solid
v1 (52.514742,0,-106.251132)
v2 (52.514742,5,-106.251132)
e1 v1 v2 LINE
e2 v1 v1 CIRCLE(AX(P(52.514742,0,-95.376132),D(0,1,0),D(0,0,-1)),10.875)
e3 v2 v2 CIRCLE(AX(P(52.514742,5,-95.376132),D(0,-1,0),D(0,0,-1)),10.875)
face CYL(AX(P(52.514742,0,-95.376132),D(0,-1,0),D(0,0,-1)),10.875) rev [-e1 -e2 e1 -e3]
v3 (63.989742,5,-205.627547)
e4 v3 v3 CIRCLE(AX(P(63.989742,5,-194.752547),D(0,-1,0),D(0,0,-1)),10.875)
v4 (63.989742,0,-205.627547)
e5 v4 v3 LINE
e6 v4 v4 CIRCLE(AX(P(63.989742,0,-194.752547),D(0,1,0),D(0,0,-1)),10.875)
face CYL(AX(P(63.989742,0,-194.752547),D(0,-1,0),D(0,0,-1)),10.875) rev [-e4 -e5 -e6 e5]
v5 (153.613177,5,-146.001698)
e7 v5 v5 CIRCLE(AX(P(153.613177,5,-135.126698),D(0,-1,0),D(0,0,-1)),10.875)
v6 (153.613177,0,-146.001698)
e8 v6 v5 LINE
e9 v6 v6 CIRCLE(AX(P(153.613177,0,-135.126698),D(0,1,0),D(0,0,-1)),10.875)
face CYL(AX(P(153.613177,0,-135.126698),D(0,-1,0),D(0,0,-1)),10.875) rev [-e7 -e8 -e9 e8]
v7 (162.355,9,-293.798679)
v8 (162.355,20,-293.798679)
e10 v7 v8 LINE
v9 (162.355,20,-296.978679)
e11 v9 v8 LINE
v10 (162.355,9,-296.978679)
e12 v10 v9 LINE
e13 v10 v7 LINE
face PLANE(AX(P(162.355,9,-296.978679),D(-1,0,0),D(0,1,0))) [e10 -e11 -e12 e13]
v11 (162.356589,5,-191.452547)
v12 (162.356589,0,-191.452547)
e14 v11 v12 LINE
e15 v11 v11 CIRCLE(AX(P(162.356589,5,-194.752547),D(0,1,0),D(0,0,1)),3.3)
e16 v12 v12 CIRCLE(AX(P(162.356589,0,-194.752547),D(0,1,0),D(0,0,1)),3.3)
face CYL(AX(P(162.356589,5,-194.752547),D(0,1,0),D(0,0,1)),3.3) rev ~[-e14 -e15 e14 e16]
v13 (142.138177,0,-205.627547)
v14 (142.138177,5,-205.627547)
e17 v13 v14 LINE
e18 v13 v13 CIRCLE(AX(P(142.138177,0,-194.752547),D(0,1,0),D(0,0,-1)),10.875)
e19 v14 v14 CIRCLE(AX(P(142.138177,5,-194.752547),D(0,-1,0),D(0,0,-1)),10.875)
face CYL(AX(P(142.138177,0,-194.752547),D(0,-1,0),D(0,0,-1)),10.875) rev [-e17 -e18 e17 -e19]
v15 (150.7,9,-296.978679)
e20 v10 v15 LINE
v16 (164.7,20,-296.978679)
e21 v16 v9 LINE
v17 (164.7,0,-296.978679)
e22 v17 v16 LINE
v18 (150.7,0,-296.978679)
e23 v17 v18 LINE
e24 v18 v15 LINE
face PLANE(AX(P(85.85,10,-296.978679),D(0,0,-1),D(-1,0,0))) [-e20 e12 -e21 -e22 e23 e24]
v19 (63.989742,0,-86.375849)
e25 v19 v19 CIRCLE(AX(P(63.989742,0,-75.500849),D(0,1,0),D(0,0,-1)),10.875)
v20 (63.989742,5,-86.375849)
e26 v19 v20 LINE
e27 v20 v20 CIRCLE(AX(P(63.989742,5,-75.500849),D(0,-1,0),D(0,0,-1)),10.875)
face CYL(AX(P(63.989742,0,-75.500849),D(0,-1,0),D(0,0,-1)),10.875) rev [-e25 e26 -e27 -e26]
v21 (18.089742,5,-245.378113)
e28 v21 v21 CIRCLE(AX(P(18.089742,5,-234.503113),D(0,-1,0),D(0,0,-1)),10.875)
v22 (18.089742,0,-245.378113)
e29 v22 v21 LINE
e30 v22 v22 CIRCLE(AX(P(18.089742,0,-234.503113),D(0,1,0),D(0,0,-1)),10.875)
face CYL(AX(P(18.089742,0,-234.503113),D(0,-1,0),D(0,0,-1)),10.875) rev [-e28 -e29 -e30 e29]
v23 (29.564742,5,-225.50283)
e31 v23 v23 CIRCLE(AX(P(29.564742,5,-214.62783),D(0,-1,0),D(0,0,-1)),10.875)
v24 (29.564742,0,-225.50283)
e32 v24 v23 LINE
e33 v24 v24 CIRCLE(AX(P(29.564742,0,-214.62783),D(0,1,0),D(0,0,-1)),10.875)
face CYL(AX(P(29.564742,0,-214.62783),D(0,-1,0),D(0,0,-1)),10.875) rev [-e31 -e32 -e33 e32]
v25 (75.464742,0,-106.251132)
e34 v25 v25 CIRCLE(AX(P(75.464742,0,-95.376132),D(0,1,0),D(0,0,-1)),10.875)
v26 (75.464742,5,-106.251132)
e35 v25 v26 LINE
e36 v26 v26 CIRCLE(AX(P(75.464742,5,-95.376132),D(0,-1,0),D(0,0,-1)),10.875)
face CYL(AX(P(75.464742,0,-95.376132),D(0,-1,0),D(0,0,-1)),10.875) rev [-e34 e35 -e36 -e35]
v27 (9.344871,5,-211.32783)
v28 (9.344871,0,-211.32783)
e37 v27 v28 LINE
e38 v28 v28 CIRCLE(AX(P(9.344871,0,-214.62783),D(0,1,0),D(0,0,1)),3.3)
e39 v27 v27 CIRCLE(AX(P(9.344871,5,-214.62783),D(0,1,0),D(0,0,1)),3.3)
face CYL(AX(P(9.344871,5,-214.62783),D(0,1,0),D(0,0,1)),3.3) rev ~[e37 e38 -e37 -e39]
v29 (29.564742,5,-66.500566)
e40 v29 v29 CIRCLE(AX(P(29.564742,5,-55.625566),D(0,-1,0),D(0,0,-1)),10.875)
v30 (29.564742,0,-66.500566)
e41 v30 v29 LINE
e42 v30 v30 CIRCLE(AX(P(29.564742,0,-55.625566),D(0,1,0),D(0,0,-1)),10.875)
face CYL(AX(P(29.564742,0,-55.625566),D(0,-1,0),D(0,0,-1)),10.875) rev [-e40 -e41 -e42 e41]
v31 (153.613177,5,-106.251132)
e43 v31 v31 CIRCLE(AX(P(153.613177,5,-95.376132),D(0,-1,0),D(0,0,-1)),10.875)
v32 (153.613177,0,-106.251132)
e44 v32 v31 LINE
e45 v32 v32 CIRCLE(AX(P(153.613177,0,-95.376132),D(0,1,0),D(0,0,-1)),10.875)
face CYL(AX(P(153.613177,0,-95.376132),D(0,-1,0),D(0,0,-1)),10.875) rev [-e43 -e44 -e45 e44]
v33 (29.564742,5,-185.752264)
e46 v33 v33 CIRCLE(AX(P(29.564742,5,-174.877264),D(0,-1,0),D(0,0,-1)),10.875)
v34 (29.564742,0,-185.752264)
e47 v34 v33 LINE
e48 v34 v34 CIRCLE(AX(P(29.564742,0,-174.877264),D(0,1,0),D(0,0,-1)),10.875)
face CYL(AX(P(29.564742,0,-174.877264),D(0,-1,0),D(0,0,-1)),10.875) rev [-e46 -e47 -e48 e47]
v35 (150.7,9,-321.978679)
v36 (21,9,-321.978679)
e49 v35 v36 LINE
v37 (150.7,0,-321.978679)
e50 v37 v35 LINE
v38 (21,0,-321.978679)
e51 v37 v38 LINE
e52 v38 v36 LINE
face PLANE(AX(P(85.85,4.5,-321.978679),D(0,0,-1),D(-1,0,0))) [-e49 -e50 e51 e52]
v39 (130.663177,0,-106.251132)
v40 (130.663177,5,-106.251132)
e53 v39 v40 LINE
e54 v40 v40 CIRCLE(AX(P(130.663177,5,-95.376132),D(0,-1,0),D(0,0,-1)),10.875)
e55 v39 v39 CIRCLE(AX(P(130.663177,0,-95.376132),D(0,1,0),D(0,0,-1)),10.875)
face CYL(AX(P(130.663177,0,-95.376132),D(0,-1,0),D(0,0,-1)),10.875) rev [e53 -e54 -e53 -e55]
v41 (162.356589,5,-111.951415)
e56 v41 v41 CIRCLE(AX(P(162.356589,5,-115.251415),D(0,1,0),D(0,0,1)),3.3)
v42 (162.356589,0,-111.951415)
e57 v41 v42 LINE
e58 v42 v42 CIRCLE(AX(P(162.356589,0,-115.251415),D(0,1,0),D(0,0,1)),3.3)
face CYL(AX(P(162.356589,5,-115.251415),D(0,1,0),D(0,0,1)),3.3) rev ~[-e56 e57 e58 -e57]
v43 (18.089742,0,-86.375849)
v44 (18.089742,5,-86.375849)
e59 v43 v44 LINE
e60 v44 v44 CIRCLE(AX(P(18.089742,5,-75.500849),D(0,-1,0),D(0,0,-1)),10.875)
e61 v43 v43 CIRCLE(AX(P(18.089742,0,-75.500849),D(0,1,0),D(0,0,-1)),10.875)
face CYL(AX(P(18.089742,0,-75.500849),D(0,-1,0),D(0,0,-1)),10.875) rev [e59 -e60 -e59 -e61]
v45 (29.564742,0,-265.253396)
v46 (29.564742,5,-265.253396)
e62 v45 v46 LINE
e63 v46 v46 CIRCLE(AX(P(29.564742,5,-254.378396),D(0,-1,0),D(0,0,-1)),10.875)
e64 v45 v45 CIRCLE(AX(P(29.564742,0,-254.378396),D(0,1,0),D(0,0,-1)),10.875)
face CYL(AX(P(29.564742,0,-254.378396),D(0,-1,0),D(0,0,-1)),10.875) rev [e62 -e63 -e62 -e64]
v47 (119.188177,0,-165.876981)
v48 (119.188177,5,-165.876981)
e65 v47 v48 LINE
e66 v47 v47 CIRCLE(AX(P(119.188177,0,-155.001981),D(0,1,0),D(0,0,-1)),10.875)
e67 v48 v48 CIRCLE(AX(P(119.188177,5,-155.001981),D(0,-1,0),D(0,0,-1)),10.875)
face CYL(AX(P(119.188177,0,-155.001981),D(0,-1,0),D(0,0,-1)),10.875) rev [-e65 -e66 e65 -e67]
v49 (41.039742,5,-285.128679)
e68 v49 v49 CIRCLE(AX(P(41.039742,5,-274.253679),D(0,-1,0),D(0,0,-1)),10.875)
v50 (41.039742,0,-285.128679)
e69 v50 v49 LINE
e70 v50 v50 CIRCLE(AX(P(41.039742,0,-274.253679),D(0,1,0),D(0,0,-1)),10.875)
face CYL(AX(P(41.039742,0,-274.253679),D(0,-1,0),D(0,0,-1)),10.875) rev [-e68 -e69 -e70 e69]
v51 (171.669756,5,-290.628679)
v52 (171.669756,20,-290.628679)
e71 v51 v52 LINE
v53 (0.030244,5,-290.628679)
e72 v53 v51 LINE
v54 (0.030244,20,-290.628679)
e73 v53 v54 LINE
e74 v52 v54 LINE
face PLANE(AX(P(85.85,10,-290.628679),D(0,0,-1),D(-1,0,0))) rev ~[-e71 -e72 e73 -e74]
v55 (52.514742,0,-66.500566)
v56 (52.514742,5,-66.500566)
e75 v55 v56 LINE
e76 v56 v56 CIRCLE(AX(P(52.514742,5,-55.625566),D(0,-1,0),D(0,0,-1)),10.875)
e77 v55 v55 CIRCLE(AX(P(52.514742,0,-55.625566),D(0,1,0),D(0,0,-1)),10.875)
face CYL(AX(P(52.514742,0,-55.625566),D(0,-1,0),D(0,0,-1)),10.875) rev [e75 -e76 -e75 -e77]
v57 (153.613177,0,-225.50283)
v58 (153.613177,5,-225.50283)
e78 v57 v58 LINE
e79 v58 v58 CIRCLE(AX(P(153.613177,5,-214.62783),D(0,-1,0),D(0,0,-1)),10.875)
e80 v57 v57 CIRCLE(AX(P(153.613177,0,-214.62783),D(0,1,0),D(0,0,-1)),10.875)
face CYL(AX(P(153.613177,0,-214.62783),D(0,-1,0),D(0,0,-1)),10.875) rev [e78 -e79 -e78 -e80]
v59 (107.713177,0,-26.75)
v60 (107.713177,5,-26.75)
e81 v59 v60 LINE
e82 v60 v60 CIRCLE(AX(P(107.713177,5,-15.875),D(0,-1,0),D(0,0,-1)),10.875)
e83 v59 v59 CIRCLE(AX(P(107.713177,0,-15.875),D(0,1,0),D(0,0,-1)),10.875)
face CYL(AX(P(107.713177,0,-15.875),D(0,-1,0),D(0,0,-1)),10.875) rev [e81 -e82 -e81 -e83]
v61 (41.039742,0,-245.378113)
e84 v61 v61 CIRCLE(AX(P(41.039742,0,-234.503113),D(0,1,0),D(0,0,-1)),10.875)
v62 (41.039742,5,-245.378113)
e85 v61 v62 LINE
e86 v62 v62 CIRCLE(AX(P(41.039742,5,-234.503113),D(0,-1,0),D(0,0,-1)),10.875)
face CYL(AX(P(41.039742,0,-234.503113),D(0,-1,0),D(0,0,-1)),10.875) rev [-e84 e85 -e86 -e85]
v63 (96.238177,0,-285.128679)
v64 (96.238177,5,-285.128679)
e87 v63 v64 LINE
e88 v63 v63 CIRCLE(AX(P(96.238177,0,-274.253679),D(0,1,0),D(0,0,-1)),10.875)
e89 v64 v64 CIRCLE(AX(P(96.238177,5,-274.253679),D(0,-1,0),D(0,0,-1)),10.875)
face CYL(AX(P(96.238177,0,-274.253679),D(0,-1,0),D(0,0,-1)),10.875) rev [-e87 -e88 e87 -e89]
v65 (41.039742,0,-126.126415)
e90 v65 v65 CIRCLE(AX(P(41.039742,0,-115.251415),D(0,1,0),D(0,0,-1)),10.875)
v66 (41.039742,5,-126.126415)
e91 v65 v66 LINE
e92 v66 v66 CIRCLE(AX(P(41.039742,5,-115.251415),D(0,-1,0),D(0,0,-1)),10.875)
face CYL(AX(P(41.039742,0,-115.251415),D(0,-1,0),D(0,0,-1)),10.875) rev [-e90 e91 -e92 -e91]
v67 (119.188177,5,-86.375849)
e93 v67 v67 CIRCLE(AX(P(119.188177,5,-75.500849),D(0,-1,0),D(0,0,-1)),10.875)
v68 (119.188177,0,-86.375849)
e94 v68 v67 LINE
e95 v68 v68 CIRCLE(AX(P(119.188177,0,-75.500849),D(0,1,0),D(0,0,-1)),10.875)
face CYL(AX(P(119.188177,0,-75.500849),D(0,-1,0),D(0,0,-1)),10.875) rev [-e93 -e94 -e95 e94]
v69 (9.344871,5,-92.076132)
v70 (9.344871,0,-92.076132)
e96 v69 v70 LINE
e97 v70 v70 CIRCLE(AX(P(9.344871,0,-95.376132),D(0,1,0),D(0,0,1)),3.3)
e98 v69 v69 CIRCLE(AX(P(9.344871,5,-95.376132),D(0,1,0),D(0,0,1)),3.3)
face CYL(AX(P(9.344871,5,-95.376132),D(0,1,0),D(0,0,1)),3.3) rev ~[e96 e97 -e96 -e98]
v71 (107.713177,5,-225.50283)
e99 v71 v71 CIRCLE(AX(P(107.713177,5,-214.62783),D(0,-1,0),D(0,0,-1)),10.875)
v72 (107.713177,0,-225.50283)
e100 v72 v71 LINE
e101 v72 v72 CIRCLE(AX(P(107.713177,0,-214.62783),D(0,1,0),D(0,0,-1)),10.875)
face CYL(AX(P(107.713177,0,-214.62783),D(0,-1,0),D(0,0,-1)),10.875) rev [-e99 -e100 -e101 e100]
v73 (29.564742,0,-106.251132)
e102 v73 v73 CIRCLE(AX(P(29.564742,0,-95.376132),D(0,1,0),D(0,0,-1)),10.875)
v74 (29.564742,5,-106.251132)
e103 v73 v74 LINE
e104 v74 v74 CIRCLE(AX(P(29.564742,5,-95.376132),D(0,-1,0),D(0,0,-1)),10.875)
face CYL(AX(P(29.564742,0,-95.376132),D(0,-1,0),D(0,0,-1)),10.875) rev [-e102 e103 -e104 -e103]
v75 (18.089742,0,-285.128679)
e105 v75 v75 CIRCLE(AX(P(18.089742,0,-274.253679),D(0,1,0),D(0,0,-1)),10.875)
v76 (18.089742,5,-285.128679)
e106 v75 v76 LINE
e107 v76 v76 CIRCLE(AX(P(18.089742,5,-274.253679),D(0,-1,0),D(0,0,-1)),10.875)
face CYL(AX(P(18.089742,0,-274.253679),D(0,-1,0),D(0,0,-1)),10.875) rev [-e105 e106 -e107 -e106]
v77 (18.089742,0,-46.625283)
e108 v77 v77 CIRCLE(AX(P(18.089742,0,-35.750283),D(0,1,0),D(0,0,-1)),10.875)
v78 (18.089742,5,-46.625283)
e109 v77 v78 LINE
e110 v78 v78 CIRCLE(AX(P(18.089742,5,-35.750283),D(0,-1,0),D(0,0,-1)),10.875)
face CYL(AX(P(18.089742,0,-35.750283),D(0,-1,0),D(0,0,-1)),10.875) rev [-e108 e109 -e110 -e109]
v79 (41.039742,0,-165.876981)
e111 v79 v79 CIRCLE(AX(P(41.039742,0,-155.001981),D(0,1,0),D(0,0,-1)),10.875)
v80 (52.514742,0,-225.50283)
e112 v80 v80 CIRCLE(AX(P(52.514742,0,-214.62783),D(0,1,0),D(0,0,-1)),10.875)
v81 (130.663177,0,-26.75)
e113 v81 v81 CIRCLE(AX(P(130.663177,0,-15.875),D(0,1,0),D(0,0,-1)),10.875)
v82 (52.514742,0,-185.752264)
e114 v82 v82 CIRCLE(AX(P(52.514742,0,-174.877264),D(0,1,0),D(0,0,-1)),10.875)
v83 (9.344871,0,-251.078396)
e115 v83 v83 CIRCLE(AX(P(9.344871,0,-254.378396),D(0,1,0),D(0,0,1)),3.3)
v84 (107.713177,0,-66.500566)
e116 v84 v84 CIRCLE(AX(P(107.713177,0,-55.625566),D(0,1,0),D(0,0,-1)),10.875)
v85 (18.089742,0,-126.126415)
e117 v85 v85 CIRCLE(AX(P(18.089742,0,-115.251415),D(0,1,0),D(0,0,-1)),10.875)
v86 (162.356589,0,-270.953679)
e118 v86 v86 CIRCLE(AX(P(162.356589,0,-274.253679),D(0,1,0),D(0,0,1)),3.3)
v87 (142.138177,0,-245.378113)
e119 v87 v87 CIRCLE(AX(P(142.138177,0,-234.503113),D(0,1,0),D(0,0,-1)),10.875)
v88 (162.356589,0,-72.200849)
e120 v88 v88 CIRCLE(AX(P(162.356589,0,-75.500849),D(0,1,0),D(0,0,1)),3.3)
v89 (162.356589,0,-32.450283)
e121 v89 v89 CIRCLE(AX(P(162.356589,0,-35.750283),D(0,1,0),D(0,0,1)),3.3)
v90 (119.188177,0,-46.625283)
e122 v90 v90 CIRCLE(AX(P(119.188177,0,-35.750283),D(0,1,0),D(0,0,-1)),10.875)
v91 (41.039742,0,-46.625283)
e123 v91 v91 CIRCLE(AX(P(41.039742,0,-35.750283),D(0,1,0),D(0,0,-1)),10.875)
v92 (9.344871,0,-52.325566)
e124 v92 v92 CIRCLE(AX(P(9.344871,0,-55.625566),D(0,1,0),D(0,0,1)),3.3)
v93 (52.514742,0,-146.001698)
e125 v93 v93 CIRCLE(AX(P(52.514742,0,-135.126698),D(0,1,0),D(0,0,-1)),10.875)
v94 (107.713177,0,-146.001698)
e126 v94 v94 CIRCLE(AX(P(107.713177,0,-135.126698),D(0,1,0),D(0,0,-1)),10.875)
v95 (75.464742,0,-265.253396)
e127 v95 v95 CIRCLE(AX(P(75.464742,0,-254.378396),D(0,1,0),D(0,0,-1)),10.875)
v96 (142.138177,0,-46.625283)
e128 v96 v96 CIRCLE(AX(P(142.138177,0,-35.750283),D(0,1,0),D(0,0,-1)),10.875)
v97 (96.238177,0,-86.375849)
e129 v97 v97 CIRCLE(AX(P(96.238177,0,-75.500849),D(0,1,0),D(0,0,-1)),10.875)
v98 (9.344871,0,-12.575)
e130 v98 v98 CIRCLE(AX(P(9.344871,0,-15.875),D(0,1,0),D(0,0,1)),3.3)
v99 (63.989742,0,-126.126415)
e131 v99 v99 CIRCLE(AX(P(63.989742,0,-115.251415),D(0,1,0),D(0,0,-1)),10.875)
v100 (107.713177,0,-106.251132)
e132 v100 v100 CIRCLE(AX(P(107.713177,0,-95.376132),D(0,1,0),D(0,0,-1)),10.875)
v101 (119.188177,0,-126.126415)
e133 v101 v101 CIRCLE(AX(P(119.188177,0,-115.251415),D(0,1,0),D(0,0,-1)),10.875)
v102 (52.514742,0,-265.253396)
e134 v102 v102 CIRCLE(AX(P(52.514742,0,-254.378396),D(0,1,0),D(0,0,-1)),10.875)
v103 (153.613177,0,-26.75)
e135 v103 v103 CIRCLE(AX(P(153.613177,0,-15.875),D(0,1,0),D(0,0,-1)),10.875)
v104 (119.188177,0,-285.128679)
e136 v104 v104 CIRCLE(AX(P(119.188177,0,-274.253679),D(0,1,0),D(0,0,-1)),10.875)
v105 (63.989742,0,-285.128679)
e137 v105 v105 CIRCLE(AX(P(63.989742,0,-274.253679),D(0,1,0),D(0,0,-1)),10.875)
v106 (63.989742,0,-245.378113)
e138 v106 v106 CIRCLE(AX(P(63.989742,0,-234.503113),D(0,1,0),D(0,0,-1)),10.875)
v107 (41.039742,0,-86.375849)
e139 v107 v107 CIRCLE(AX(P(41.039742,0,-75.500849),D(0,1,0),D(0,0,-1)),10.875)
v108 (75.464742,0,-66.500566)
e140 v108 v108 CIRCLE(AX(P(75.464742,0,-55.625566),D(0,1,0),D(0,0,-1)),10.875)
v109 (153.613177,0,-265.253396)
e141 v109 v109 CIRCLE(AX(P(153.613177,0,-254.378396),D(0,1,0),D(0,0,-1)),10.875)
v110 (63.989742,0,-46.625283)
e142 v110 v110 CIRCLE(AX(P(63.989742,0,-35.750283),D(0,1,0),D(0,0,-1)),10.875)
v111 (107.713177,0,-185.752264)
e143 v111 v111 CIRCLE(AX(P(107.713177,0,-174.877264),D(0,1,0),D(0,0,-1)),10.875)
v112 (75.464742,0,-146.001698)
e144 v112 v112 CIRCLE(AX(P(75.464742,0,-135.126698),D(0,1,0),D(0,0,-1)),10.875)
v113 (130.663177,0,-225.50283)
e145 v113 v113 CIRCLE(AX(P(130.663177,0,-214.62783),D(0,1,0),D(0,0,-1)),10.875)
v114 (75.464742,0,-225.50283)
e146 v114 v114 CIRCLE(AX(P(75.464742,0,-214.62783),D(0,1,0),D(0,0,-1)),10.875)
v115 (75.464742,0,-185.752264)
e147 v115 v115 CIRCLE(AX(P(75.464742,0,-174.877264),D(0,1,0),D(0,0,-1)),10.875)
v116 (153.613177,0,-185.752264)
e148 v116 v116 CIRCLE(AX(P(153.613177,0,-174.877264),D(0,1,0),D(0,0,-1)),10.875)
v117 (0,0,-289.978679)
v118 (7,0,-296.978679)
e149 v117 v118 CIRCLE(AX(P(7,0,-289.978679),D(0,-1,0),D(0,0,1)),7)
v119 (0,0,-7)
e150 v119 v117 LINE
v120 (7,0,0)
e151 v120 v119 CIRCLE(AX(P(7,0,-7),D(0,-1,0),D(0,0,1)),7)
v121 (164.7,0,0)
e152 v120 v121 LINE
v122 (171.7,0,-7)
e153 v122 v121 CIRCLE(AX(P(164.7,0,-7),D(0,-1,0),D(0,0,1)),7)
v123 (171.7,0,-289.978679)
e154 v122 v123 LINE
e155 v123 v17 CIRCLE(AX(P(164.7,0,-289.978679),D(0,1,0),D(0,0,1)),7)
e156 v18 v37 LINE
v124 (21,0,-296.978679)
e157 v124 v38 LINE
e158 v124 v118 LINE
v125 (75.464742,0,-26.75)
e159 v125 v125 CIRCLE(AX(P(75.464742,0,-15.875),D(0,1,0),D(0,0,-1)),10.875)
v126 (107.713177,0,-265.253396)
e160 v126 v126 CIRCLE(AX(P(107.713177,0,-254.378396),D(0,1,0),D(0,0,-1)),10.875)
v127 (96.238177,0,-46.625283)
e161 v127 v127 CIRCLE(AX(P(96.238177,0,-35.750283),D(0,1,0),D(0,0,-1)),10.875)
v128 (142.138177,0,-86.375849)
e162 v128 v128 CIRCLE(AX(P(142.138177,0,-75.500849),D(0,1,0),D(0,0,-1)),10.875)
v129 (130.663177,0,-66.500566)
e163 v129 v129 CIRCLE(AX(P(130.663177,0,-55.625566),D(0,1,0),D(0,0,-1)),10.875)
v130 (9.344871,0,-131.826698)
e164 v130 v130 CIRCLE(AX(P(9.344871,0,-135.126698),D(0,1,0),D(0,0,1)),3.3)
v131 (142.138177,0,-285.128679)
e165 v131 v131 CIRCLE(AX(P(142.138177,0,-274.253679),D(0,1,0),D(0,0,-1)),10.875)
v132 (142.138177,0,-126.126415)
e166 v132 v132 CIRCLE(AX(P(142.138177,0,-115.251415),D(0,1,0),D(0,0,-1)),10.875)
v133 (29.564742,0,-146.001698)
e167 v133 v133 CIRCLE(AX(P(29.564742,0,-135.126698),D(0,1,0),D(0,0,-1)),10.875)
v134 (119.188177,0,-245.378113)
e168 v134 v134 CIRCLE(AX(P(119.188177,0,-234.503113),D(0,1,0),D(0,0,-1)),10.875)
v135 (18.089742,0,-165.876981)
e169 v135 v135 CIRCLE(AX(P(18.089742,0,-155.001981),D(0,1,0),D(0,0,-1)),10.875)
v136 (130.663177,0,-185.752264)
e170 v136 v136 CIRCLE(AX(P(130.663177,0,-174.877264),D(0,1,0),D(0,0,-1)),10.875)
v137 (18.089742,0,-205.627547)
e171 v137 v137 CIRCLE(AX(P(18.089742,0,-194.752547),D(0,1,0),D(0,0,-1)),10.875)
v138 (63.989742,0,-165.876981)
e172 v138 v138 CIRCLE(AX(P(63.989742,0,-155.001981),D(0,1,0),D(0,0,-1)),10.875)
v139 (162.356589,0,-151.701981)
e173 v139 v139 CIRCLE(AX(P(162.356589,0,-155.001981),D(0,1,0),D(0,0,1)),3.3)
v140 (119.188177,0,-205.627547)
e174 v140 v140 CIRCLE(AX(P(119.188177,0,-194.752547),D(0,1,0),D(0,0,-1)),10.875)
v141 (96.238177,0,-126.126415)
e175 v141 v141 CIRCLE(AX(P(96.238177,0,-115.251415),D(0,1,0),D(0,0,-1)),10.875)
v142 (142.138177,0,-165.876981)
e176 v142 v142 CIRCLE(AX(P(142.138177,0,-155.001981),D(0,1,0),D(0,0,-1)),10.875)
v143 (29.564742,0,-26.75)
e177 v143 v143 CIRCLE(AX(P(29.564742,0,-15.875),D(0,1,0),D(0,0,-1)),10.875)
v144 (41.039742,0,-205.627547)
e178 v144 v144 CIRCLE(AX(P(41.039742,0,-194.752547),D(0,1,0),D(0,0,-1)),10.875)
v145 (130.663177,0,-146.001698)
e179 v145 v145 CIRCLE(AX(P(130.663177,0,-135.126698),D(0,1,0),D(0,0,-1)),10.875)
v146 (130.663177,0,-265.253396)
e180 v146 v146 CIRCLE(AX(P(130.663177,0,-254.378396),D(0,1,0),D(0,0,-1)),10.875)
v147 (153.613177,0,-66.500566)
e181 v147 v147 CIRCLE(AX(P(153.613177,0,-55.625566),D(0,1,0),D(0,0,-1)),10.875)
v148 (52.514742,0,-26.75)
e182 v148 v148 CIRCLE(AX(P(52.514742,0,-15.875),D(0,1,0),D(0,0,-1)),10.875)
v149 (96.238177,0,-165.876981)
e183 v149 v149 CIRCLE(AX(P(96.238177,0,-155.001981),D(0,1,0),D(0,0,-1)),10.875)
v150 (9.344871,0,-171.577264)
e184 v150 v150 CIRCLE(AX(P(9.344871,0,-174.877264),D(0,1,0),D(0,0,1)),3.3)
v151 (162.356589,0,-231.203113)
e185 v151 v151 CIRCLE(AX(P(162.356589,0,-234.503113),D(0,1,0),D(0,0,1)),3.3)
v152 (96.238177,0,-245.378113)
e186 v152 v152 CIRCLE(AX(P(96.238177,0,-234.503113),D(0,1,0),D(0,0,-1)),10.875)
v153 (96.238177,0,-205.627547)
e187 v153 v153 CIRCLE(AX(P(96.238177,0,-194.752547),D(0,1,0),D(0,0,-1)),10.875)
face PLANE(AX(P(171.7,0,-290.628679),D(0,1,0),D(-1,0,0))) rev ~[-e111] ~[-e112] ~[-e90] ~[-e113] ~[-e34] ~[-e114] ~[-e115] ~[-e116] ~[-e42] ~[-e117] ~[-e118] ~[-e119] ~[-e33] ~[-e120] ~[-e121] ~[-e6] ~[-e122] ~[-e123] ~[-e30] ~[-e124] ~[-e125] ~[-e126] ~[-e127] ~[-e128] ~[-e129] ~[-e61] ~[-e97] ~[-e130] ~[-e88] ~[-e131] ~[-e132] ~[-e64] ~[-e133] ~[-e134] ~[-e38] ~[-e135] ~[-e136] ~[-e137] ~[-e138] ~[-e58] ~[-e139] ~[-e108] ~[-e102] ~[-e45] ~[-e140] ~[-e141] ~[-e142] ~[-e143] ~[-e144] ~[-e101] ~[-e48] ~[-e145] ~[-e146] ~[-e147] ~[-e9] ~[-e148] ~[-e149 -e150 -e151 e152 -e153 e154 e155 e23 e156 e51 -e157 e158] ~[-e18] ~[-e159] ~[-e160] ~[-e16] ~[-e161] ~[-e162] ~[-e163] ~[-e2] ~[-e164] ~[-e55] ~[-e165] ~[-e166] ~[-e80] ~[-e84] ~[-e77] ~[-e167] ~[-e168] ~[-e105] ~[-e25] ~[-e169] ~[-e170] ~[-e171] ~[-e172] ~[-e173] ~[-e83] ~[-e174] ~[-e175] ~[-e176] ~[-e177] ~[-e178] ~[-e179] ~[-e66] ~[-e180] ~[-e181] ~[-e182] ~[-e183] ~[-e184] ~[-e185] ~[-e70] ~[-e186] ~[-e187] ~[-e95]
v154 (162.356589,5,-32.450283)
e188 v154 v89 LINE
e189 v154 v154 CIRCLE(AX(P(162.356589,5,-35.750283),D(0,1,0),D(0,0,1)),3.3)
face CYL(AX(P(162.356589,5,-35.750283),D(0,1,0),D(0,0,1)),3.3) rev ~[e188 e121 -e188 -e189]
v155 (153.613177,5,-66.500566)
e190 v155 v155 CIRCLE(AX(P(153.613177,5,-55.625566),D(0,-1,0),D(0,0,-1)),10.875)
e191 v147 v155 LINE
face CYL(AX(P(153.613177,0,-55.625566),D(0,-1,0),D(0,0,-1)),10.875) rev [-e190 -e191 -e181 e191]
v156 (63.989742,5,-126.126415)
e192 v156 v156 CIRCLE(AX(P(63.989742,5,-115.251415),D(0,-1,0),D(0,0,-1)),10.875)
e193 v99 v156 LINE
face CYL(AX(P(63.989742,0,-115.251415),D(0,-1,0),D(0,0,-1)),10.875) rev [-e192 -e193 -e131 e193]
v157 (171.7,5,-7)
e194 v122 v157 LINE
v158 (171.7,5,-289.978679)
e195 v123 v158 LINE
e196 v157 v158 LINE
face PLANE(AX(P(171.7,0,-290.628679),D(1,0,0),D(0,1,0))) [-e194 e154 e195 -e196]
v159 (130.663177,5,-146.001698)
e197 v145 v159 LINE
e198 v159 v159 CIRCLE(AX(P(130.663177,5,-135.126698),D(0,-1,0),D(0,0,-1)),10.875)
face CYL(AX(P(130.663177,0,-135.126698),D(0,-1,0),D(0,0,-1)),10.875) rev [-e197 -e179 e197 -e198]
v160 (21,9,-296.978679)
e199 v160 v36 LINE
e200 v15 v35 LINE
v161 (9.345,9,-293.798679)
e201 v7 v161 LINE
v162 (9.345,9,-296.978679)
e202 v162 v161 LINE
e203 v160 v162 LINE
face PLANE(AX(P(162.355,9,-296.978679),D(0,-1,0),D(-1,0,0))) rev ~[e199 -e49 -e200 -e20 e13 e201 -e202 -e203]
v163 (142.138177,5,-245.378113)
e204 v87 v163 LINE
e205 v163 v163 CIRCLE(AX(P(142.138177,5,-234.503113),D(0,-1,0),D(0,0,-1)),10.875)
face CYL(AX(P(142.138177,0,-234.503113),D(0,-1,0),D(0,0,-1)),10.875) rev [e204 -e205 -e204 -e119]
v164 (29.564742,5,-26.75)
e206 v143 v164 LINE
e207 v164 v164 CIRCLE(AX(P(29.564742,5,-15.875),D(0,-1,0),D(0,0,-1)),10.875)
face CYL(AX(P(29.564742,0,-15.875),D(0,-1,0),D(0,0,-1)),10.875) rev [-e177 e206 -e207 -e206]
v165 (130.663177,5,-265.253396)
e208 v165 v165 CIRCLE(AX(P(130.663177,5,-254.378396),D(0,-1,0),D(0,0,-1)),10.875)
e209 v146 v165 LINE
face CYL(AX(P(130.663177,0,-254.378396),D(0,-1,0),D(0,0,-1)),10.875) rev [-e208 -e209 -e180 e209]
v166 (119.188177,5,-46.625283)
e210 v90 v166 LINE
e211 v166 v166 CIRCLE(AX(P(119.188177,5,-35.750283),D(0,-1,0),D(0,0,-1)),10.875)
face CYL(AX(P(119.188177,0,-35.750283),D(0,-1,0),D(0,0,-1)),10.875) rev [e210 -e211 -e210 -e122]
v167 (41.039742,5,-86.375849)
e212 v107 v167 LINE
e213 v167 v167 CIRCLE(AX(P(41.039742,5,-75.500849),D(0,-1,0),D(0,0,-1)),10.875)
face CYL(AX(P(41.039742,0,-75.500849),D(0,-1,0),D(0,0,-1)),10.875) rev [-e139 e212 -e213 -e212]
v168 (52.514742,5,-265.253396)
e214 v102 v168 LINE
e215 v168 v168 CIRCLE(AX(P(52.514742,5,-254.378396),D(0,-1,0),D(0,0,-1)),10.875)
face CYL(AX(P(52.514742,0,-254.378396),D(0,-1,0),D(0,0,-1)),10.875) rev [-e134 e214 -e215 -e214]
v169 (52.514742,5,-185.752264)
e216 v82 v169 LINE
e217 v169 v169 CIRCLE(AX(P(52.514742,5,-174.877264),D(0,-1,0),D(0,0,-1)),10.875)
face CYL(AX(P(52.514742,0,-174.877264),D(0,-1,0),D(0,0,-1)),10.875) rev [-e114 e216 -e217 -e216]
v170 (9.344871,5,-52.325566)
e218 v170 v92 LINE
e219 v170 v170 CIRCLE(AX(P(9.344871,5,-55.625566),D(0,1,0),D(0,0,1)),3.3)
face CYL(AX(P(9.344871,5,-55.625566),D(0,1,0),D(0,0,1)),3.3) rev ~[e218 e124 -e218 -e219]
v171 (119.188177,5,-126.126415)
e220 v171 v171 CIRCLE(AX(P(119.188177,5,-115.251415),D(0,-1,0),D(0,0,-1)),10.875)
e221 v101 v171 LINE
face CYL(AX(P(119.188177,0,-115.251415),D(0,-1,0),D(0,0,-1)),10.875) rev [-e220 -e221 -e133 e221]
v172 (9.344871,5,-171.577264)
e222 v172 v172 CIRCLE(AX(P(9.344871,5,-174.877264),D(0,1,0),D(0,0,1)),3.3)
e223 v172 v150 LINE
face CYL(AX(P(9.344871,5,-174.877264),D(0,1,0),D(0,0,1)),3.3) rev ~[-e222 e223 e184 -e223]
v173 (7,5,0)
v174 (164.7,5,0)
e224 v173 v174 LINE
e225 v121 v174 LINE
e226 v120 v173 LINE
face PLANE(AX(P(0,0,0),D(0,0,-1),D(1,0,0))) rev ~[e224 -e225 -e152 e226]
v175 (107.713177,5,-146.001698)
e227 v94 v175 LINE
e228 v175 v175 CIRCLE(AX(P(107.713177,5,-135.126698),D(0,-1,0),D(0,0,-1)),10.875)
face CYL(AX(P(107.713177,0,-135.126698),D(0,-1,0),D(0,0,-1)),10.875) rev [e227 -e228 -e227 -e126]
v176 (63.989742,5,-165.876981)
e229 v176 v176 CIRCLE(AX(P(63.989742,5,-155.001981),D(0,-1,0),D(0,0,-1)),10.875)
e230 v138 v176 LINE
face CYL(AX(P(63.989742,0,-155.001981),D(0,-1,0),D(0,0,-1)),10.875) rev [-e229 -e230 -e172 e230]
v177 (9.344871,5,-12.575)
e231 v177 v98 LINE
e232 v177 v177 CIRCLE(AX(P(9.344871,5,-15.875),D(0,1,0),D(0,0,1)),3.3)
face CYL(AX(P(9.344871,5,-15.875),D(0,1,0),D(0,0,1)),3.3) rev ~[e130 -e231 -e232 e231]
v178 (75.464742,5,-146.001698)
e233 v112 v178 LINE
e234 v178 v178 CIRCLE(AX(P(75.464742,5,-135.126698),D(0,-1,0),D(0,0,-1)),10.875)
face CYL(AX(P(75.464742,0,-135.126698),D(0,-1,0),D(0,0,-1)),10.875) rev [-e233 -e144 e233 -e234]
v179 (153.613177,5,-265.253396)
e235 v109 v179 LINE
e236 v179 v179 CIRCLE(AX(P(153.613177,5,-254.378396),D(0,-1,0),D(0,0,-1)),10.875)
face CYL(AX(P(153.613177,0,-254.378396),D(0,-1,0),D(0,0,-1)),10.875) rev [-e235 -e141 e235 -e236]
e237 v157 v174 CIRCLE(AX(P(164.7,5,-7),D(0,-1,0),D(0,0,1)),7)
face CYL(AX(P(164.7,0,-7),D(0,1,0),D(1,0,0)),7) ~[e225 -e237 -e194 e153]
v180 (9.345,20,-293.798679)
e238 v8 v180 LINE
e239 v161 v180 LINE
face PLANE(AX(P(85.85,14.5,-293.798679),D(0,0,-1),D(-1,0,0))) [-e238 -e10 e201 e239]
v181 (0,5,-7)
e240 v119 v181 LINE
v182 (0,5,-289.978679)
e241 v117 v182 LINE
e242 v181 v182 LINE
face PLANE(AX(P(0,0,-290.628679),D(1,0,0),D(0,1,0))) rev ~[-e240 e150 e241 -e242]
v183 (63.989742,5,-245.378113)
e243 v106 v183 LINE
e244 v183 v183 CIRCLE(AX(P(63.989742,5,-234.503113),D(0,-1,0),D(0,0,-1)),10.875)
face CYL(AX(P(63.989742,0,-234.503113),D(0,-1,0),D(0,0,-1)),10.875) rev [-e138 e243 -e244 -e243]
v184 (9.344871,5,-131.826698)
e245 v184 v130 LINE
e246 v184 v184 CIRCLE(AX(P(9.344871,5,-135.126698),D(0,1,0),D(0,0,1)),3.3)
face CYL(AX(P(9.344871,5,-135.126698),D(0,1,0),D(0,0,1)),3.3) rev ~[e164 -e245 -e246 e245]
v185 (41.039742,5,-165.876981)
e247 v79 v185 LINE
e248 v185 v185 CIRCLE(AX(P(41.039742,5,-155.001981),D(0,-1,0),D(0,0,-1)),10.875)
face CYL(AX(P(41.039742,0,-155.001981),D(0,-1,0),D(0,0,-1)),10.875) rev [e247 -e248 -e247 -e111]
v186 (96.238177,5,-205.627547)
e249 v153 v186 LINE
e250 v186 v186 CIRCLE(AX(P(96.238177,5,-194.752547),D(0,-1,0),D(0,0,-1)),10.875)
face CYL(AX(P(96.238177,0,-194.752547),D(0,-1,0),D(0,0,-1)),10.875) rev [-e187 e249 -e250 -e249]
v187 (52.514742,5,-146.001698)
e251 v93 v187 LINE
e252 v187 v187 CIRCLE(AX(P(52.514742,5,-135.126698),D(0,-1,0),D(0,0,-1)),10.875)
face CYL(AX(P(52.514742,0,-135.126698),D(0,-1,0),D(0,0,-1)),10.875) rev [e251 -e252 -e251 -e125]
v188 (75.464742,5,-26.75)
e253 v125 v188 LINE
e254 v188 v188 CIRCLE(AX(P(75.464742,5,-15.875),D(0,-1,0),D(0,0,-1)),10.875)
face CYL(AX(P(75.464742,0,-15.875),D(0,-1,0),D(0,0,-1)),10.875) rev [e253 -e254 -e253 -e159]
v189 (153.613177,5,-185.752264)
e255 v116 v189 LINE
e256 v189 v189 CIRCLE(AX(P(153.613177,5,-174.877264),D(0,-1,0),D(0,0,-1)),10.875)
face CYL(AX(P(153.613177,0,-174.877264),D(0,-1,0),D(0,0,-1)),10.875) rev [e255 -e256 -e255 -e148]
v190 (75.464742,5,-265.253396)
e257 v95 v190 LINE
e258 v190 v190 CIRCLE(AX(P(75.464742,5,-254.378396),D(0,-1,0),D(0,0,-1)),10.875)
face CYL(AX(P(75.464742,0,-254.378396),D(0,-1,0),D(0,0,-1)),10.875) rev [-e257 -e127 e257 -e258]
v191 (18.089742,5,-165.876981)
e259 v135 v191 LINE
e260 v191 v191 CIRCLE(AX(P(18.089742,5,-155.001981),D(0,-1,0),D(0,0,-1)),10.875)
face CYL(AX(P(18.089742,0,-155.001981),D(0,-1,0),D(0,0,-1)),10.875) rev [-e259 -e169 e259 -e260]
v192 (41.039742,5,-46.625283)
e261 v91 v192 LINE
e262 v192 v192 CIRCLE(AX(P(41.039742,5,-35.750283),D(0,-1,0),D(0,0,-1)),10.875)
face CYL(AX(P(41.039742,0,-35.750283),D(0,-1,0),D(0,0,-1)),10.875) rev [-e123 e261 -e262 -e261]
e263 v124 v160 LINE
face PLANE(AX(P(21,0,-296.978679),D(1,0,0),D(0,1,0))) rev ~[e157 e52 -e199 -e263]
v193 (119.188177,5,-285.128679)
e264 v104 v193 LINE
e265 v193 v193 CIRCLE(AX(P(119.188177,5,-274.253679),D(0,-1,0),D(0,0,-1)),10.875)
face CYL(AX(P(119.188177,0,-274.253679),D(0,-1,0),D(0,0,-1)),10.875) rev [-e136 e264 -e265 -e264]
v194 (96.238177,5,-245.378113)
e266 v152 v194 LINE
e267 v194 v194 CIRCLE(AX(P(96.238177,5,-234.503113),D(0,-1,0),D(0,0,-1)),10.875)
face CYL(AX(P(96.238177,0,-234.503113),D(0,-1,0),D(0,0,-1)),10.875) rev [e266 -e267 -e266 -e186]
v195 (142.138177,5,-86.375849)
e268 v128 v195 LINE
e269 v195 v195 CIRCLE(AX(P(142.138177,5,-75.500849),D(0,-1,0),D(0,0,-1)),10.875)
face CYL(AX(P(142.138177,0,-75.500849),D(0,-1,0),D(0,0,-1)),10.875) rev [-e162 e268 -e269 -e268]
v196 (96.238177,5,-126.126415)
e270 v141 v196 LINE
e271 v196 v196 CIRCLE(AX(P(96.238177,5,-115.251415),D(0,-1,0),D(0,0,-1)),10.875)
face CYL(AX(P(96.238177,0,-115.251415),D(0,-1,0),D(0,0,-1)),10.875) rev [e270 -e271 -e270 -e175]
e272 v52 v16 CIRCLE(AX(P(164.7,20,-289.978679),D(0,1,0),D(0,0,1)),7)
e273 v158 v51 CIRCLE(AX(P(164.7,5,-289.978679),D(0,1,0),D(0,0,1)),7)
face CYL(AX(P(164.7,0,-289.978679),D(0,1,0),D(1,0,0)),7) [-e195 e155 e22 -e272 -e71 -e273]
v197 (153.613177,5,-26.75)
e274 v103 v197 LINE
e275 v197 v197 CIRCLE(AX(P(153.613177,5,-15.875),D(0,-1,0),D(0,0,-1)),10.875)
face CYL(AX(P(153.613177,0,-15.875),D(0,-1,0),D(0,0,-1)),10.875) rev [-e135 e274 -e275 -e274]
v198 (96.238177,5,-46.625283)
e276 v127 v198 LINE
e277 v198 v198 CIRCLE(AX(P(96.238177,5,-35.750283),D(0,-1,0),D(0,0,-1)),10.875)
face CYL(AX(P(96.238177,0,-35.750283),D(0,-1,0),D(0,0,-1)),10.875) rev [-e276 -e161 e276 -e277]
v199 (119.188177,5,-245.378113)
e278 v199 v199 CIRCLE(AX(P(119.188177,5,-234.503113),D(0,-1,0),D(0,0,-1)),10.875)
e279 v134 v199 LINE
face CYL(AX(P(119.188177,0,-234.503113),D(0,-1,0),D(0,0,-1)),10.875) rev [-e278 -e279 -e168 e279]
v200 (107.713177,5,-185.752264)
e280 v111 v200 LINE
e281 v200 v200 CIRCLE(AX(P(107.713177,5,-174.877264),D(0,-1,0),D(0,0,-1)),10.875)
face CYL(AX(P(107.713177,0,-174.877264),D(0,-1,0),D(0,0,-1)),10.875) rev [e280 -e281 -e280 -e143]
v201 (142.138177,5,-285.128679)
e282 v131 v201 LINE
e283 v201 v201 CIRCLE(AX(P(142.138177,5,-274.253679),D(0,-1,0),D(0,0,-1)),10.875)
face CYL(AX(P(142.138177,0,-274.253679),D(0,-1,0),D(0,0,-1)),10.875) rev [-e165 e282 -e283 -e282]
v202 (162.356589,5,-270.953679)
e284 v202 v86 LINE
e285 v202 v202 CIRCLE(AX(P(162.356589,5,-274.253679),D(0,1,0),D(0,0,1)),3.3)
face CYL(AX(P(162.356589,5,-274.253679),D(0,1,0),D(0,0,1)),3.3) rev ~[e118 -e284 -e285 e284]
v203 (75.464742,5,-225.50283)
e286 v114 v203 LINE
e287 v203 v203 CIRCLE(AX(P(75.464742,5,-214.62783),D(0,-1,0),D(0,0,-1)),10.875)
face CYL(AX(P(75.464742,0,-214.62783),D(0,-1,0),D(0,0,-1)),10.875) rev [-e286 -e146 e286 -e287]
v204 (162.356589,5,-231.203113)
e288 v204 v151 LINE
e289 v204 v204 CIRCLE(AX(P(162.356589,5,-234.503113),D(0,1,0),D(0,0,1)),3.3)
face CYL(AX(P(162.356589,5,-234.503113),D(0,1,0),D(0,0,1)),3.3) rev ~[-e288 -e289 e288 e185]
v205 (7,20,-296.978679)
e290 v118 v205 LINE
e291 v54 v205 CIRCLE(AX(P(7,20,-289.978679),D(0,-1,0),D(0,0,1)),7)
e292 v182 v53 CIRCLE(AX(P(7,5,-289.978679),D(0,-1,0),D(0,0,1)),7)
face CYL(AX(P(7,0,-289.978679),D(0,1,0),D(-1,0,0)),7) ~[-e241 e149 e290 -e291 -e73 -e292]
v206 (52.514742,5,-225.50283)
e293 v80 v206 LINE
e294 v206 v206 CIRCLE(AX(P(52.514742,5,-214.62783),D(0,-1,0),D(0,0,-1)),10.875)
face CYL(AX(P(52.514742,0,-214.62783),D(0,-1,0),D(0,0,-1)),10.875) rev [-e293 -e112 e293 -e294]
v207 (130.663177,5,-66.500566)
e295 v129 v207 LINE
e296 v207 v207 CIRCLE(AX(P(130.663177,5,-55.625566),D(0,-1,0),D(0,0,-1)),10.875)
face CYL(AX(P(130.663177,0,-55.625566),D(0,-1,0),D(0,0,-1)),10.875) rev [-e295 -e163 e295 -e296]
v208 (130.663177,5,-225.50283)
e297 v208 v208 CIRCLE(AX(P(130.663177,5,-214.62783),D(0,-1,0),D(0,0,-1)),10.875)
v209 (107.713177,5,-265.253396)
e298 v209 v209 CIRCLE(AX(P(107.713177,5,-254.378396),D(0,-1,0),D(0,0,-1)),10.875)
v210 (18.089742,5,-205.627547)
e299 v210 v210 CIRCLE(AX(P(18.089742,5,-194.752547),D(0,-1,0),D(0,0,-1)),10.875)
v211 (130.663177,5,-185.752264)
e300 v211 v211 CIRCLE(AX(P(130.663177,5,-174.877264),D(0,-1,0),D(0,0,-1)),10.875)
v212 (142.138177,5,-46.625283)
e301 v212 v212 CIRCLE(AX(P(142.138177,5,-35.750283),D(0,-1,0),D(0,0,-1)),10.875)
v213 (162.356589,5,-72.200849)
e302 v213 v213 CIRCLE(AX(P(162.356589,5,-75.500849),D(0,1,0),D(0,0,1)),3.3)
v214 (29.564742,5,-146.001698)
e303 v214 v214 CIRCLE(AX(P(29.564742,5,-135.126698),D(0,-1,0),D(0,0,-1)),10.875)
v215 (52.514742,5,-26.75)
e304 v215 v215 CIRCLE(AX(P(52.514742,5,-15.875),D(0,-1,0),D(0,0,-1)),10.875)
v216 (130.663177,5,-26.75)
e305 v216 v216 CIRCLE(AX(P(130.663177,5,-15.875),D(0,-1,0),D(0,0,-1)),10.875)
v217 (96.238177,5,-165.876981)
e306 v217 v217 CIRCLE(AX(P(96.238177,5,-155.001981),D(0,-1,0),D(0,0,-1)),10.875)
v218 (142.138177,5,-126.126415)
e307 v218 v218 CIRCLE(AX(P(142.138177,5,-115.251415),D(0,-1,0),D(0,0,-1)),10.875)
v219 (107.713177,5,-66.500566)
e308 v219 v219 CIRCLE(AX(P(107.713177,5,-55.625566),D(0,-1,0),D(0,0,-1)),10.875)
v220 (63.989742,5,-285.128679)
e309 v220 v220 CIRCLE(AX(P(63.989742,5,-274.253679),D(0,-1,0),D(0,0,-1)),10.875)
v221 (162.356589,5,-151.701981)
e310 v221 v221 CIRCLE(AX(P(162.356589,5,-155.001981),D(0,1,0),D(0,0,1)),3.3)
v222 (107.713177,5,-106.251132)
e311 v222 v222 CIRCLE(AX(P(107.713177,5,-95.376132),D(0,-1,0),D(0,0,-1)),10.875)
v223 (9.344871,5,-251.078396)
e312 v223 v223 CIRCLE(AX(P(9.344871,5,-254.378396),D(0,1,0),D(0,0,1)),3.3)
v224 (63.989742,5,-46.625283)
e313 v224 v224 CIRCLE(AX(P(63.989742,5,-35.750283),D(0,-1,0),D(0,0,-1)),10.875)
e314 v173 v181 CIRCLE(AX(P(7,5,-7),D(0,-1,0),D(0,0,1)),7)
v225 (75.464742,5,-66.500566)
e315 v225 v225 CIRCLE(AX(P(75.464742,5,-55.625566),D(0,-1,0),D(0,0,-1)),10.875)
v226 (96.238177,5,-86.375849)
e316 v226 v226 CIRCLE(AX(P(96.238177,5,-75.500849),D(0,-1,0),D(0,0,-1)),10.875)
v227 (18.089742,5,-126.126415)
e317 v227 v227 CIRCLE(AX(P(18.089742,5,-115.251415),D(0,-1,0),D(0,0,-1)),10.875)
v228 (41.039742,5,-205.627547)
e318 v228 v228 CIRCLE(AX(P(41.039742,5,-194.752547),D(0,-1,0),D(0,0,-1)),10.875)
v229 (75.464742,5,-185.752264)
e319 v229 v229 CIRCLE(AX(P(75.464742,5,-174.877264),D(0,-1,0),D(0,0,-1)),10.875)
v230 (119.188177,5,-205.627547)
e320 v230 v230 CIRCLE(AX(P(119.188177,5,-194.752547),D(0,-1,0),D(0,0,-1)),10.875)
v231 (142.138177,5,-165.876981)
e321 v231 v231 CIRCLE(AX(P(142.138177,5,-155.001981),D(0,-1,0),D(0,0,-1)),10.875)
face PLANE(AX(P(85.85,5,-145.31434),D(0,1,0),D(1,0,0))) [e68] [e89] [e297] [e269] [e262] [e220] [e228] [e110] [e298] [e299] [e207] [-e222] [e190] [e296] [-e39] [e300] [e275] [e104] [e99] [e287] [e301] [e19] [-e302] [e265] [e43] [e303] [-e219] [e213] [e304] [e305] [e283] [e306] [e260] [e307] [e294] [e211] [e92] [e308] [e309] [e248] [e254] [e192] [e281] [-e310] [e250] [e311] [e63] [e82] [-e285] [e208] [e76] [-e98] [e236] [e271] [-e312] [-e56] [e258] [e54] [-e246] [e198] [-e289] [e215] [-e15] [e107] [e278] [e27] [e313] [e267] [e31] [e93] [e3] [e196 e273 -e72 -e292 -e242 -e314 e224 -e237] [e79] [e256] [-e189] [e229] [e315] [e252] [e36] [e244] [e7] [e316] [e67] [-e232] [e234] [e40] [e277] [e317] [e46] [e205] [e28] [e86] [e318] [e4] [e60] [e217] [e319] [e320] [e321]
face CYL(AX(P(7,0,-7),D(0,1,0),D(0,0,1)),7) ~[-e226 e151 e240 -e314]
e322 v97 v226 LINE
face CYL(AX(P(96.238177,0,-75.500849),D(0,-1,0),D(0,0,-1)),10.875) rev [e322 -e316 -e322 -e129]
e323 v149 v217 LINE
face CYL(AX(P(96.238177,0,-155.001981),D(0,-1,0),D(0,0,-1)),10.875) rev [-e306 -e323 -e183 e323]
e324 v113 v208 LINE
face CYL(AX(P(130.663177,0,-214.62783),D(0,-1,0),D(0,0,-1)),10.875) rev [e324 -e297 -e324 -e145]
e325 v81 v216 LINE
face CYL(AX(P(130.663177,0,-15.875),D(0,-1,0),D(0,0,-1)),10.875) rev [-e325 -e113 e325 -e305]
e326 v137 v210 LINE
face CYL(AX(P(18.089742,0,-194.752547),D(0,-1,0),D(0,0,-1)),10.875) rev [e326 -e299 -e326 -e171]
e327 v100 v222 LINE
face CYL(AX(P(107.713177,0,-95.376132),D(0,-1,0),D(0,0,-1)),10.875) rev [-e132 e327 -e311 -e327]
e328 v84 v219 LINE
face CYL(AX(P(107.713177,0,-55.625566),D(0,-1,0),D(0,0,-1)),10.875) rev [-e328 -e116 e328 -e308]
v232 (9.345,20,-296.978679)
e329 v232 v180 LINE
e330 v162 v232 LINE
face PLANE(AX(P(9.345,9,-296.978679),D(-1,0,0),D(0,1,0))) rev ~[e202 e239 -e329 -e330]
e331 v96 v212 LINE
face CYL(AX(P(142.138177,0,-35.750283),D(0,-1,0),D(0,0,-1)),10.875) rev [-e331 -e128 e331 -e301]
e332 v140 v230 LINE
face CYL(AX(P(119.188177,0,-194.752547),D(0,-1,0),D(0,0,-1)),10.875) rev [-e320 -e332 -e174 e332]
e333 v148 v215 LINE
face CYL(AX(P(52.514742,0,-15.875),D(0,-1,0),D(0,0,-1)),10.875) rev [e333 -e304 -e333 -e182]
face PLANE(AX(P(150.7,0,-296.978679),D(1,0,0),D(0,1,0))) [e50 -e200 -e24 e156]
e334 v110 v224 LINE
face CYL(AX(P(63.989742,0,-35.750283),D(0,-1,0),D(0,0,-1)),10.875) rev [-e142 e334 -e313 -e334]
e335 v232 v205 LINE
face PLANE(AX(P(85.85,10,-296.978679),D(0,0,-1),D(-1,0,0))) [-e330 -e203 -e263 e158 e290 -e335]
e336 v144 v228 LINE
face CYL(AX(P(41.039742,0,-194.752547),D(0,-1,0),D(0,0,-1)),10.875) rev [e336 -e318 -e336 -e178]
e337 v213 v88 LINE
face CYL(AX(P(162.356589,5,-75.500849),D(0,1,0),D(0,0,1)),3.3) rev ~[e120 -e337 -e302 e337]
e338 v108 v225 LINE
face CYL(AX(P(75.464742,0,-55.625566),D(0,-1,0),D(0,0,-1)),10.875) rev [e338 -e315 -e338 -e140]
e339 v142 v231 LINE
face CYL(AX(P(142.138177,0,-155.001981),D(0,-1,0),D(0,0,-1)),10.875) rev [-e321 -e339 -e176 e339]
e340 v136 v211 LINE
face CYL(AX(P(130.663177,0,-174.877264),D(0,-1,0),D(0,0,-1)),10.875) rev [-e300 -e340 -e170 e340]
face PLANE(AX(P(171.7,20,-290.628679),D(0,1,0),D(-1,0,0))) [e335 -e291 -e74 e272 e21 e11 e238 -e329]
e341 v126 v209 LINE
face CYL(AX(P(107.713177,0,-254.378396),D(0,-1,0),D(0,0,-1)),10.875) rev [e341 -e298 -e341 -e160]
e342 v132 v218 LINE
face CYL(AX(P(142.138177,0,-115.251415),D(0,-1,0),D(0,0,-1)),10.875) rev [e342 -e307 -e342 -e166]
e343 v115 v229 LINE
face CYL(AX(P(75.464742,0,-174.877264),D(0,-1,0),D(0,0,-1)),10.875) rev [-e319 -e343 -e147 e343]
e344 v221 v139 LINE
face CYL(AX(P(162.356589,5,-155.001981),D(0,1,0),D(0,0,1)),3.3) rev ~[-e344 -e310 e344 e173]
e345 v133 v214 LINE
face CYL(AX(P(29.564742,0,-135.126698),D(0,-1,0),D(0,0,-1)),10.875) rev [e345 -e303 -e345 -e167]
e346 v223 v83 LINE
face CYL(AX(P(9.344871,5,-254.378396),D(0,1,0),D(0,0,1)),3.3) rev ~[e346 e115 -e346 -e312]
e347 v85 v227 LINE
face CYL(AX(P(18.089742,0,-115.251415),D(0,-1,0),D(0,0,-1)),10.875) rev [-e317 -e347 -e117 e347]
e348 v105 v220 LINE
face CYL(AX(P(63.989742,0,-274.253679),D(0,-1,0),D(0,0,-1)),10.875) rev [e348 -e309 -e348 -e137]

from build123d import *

# Parameters (mm, degrees)
SKETCH2_W            = 171.7
SKETCH2_H            = 290.628679219
BOSS_EXTRUDE6_DEPTH  = 5
SKETCH1_R            = 10.875
CUT_EXTRUDE1_DEPTH   = 7
SKETCH5_R            = 3.3
CUT_EXTRUDE3_DEPTH   = 5
SKETCH12_W           = 171.7
SKETCH12_H           = 20
BOSS_EXTRUDE9_DEPTH  = 6.35
SKETCH13_W           = 153.01
SKETCH13_H           = 11
CUT_EXTRUDE7_DEPTH   = 3.18
SKETCH14_W           = 129.7
SKETCH14_H           = 9
BOSS_EXTRUDE10_DEPTH = 25
FILLET1_R            = 7


with BuildPart() as part:
    # Sketch2 → Boss-Extrude6 (new body)
    with BuildSketch(Plane(origin=(0, 0, 0), x_dir=(1, 0, 0), z_dir=(0, 1, 0))):
        with Locations((85.85, 145.314339609)):
            Rectangle(SKETCH2_W, SKETCH2_H)
    extrude(amount=BOSS_EXTRUDE6_DEPTH)

    # Sketch1 → Cut-Extrude1 (cut)
    with BuildSketch(Plane(origin=(0, 0, 0), x_dir=(1, 0, 0), z_dir=(0, 1, 0))):
        with Locations(Location((130.663177129, 15.875, 0), (0, 0, 90))):
            Circle(SKETCH1_R)
        with Locations(Location((153.613177129, 15.875, 0), (0, 0, 90))):
            Circle(SKETCH1_R)
        with Locations(Location((142.138177129, 35.750283017, 0), (0, 0, 90))):
            Circle(SKETCH1_R)
        with Locations(Location((119.188177129, 35.750283017, 0), (0, 0, 90))):
            Circle(SKETCH1_R)
        with Locations(Location((96.238177129, 35.750283017, 0), (0, 0, 90))):
            Circle(SKETCH1_R)
        with Locations(Location((107.713177129, 55.625566034, 0), (0, 0, 90))):
            Circle(SKETCH1_R)
        with Locations(Location((130.663177129, 55.625566034, 0), (0, 0, 90))):
            Circle(SKETCH1_R)
        with Locations(Location((153.613177129, 55.625566034, 0), (0, 0, 90))):
            Circle(SKETCH1_R)
        with Locations(Location((142.138177129, 75.500849051, 0), (0, 0, 90))):
            Circle(SKETCH1_R)
        with Locations(Location((119.188177129, 75.500849051, 0), (0, 0, 90))):
            Circle(SKETCH1_R)
        with Locations(Location((96.238177129, 75.500849051, 0), (0, 0, 90))):
            Circle(SKETCH1_R)
        with Locations(Location((107.713177129, 95.376132067, 0), (0, 0, 90))):
            Circle(SKETCH1_R)
        with Locations(Location((130.663177129, 95.376132067, 0), (0, 0, 90))):
            Circle(SKETCH1_R)
        with Locations(Location((153.613177129, 95.376132067, 0), (0, 0, 90))):
            Circle(SKETCH1_R)
        with Locations(Location((142.138177129, 115.251415084, 0), (0, 0, 90))):
            Circle(SKETCH1_R)
        with Locations(Location((119.188177129, 115.251415084, 0), (0, 0, 90))):
            Circle(SKETCH1_R)
        with Locations(Location((96.238177129, 115.251415084, 0), (0, 0, 90))):
            Circle(SKETCH1_R)
        with Locations(Location((107.713177129, 135.126698101, 0), (0, 0, 90))):
            Circle(SKETCH1_R)
        with Locations(Location((130.663177129, 135.126698101, 0), (0, 0, 90))):
            Circle(SKETCH1_R)
        with Locations(Location((153.613177129, 135.126698101, 0), (0, 0, 90))):
            Circle(SKETCH1_R)
        with Locations(Location((142.138177129, 155.001981118, 0), (0, 0, 90))):
            Circle(SKETCH1_R)
        with Locations(Location((119.188177129, 155.001981118, 0), (0, 0, 90))):
            Circle(SKETCH1_R)
        with Locations(Location((96.238177129, 155.001981118, 0), (0, 0, 90))):
            Circle(SKETCH1_R)
        with Locations(Location((107.713177129, 174.877264135, 0), (0, 0, 90))):
            Circle(SKETCH1_R)
        with Locations(Location((96.238177129, 194.752547152, 0), (0, 0, 90))):
            Circle(SKETCH1_R)
        with Locations(Location((107.713177129, 214.627830169, 0), (0, 0, 90))):
            Circle(SKETCH1_R)
        with Locations(Location((96.238177129, 234.503113185, 0), (0, 0, 90))):
            Circle(SKETCH1_R)
        with Locations(Location((107.713177129, 254.378396202, 0), (0, 0, 90))):
            Circle(SKETCH1_R)
        with Locations(Location((96.238177129, 274.253679219, 0), (0, 0, 90))):
            Circle(SKETCH1_R)
        with Locations(Location((119.188177129, 274.253679219, 0), (0, 0, 90))):
            Circle(SKETCH1_R)
        with Locations(Location((142.138177129, 274.253679219, 0), (0, 0, 90))):
            Circle(SKETCH1_R)
        with Locations(Location((153.613177129, 254.378396202, 0), (0, 0, 90))):
            Circle(SKETCH1_R)
        with Locations(Location((130.663177129, 254.378396202, 0), (0, 0, 90))):
            Circle(SKETCH1_R)
        with Locations(Location((119.188177129, 234.503113185, 0), (0, 0, 90))):
            Circle(SKETCH1_R)
        with Locations(Location((142.138177129, 234.503113185, 0), (0, 0, 90))):
            Circle(SKETCH1_R)
        with Locations(Location((130.663177129, 214.627830169, 0), (0, 0, 90))):
            Circle(SKETCH1_R)
        with Locations(Location((153.613177129, 214.627830169, 0), (0, 0, 90))):
            Circle(SKETCH1_R)
        with Locations(Location((142.138177129, 194.752547152, 0), (0, 0, 90))):
            Circle(SKETCH1_R)
        with Locations(Location((153.613177129, 174.877264135, 0), (0, 0, 90))):
            Circle(SKETCH1_R)
        with Locations(Location((130.663177129, 174.877264135, 0), (0, 0, 90))):
            Circle(SKETCH1_R)
        with Locations(Location((119.188177129, 194.752547152, 0), (0, 0, 90))):
            Circle(SKETCH1_R)
        with Locations(Location((63.989741568, 274.253679219, 0), (0, 0, 90))):
            Circle(SKETCH1_R)
        with Locations(Location((41.039741568, 274.253679219, 0), (0, 0, 90))):
            Circle(SKETCH1_R)
        with Locations(Location((18.089741568, 274.253679219, 0), (0, 0, 90))):
            Circle(SKETCH1_R)
        with Locations(Location((29.564741568, 254.378396202, 0), (0, 0, 90))):
            Circle(SKETCH1_R)
        with Locations(Location((52.514741568, 254.378396202, 0), (0, 0, 90))):
            Circle(SKETCH1_R)
        with Locations(Location((75.464741568, 254.378396202, 0), (0, 0, 90))):
            Circle(SKETCH1_R)
        with Locations(Location((63.989741568, 234.503113185, 0), (0, 0, 90))):
            Circle(SKETCH1_R)
        with Locations(Location((41.039741568, 234.503113185, 0), (0, 0, 90))):
            Circle(SKETCH1_R)
        with Locations(Location((29.564741568, 214.627830169, 0), (0, 0, 90))):
            Circle(SKETCH1_R)
        with Locations(Location((18.089741568, 234.503113185, 0), (0, 0, 90))):
            Circle(SKETCH1_R)
        with Locations(Location((52.514741568, 214.627830169, 0), (0, 0, 90))):
            Circle(SKETCH1_R)
        with Locations(Location((75.464741568, 214.627830169, 0), (0, 0, 90))):
            Circle(SKETCH1_R)
        with Locations(Location((63.989741568, 194.752547152, 0), (0, 0, 90))):
            Circle(SKETCH1_R)
        with Locations(Location((41.039741568, 194.752547152, 0), (0, 0, 90))):
            Circle(SKETCH1_R)
        with Locations(Location((18.089741568, 194.752547152, 0), (0, 0, 90))):
            Circle(SKETCH1_R)
        with Locations(Location((75.464741568, 174.877264135, 0), (0, 0, 90))):
            Circle(SKETCH1_R)
        with Locations(Location((63.989741568, 155.001981118, 0), (0, 0, 90))):
            Circle(SKETCH1_R)
        with Locations(Location((52.514741568, 174.877264135, 0), (0, 0, 90))):
            Circle(SKETCH1_R)
        with Locations(Location((29.564741568, 174.877264135, 0), (0, 0, 90))):
            Circle(SKETCH1_R)
        with Locations(Location((41.039741568, 155.001981118, 0), (0, 0, 90))):
            Circle(SKETCH1_R)
        with Locations(Location((75.464741568, 135.126698101, 0), (0, 0, 90))):
            Circle(SKETCH1_R)
        with Locations(Location((52.514741568, 135.126698101, 0), (0, 0, 90))):
            Circle(SKETCH1_R)
        with Locations(Location((29.564741568, 135.126698101, 0), (0, 0, 90))):
            Circle(SKETCH1_R)
        with Locations(Location((18.089741568, 155.001981118, 0), (0, 0, 90))):
            Circle(SKETCH1_R)
        with Locations(Location((18.089741568, 115.251415084, 0), (0, 0, 90))):
            Circle(SKETCH1_R)
        with Locations(Location((41.039741568, 115.251415084, 0), (0, 0, 90))):
            Circle(SKETCH1_R)
        with Locations(Location((63.989741568, 115.251415084, 0), (0, 0, 90))):
            Circle(SKETCH1_R)
        with Locations(Location((75.464741568, 95.376132067, 0), (0, 0, 90))):
            Circle(SKETCH1_R)
        with Locations(Location((52.514741568, 95.376132067, 0), (0, 0, 90))):
            Circle(SKETCH1_R)
        with Locations(Location((29.564741568, 95.376132067, 0), (0, 0, 90))):
            Circle(SKETCH1_R)
        with Locations(Location((41.039741568, 75.500849051, 0), (0, 0, 90))):
            Circle(SKETCH1_R)
        with Locations(Location((18.089741568, 75.500849051, 0), (0, 0, 90))):
            Circle(SKETCH1_R)
        with Locations(Location((63.989741568, 75.500849051, 0), (0, 0, 90))):
            Circle(SKETCH1_R)
        with Locations(Location((75.464741568, 55.625566034, 0), (0, 0, 90))):
            Circle(SKETCH1_R)
        with Locations(Location((52.514741568, 55.625566034, 0), (0, 0, 90))):
            Circle(SKETCH1_R)
        with Locations(Location((29.564741568, 55.625566034, 0), (0, 0, 90))):
            Circle(SKETCH1_R)
        with Locations(Location((18.089741568, 35.750283017, 0), (0, 0, 90))):
            Circle(SKETCH1_R)
        with Locations(Location((41.039741568, 35.750283017, 0), (0, 0, 90))):
            Circle(SKETCH1_R)
        with Locations(Location((63.989741568, 35.750283017, 0), (0, 0, 90))):
            Circle(SKETCH1_R)
        with Locations(Location((75.464741568, 15.875, 0), (0, 0, 90))):
            Circle(SKETCH1_R)
        with Locations(Location((52.514741568, 15.875, 0), (0, 0, 90))):
            Circle(SKETCH1_R)
        with Locations(Location((29.564741568, 15.875, 0), (0, 0, 90))):
            Circle(SKETCH1_R)
        with Locations(Location((107.713177129, 15.875, 0), (0, 0, 90))):
            Circle(SKETCH1_R)
    extrude(amount=CUT_EXTRUDE1_DEPTH, mode=Mode.SUBTRACT)

    # Sketch5 → Cut-Extrude3 (cut)
    with BuildSketch(Plane(origin=(0, 5, 0), x_dir=(1, 0, 0), z_dir=(0, 1, 0))):
        with Locations(Location((9.344870784, 254.378396202, 0), (0, 0, 270))):
            Circle(SKETCH5_R)
        with Locations(Location((162.356588564, 35.750283017, 0), (0, 0, 270))):
            Circle(SKETCH5_R)
        with Locations(Location((162.356588564, 75.500849051, 0), (0, 0, 270))):
            Circle(SKETCH5_R)
        with Locations(Location((162.356588564, 115.251415084, 0), (0, 0, 270))):
            Circle(SKETCH5_R)
        with Locations(Location((162.356588564, 155.001981118, 0), (0, 0, 270))):
            Circle(SKETCH5_R)
        with Locations(Location((162.356588564, 194.752547152, 0), (0, 0, 270))):
            Circle(SKETCH5_R)
        with Locations(Location((162.356588564, 234.503113185, 0), (0, 0, 270))):
            Circle(SKETCH5_R)
        with Locations(Location((162.356588564, 274.253679219, 0), (0, 0, 270))):
            Circle(SKETCH5_R)
        with Locations(Location((9.344870784, 214.627830169, 0), (0, 0, 270))):
            Circle(SKETCH5_R)
        with Locations(Location((9.344870784, 174.877264135, 0), (0, 0, 270))):
            Circle(SKETCH5_R)
        with Locations(Location((9.344870784, 135.126698101, 0), (0, 0, 270))):
            Circle(SKETCH5_R)
        with Locations(Location((9.344870784, 95.376132067, 0), (0, 0, 270))):
            Circle(SKETCH5_R)
        with Locations(Location((9.344870784, 55.625566034, 0), (0, 0, 270))):
            Circle(SKETCH5_R)
        with Locations(Location((9.344870784, 15.875, 0), (0, 0, 270))):
            Circle(SKETCH5_R)
    extrude(amount=-CUT_EXTRUDE3_DEPTH, mode=Mode.SUBTRACT)

    # Sketch12 → Boss-Extrude9 (add)
    with BuildSketch(Plane(origin=(0, 0, -290.628679219), x_dir=(-1, 0, 0), z_dir=(0, 0, -1))):
        with Locations((-85.85, 10)):
            Rectangle(SKETCH12_W, SKETCH12_H)
    extrude(amount=BOSS_EXTRUDE9_DEPTH)

    # Sketch13 → Cut-Extrude7 (cut)
    with BuildSketch(Plane(origin=(0, 0, -296.978679219), x_dir=(-1, 0, 0), z_dir=(0, 0, -1))):
        with Locations((-85.85, 14.5)):
            Rectangle(SKETCH13_W, SKETCH13_H)
    extrude(amount=-CUT_EXTRUDE7_DEPTH, mode=Mode.SUBTRACT)

    # Sketch14 → Boss-Extrude10 (add)
    with BuildSketch(Plane(origin=(0, 0, -296.978679219), x_dir=(-1, 0, 0), z_dir=(0, 0, -1))):
        with Locations((-85.85, 4.5)):
            Rectangle(SKETCH14_W, SKETCH14_H)
    extrude(amount=BOSS_EXTRUDE10_DEPTH)

    # Fillet1
    fillet1_edges = [part.edges().sort_by_distance(p)[0] for p in [
        (171.7, 10, -296.978679219),
        (0, 10, -296.978679219),
        (171.7, 2.5, 0),
        (0, 2.5, 0),
    ]]
    fillet(fillet1_edges, radius=FILLET1_R)


solid = part.part
